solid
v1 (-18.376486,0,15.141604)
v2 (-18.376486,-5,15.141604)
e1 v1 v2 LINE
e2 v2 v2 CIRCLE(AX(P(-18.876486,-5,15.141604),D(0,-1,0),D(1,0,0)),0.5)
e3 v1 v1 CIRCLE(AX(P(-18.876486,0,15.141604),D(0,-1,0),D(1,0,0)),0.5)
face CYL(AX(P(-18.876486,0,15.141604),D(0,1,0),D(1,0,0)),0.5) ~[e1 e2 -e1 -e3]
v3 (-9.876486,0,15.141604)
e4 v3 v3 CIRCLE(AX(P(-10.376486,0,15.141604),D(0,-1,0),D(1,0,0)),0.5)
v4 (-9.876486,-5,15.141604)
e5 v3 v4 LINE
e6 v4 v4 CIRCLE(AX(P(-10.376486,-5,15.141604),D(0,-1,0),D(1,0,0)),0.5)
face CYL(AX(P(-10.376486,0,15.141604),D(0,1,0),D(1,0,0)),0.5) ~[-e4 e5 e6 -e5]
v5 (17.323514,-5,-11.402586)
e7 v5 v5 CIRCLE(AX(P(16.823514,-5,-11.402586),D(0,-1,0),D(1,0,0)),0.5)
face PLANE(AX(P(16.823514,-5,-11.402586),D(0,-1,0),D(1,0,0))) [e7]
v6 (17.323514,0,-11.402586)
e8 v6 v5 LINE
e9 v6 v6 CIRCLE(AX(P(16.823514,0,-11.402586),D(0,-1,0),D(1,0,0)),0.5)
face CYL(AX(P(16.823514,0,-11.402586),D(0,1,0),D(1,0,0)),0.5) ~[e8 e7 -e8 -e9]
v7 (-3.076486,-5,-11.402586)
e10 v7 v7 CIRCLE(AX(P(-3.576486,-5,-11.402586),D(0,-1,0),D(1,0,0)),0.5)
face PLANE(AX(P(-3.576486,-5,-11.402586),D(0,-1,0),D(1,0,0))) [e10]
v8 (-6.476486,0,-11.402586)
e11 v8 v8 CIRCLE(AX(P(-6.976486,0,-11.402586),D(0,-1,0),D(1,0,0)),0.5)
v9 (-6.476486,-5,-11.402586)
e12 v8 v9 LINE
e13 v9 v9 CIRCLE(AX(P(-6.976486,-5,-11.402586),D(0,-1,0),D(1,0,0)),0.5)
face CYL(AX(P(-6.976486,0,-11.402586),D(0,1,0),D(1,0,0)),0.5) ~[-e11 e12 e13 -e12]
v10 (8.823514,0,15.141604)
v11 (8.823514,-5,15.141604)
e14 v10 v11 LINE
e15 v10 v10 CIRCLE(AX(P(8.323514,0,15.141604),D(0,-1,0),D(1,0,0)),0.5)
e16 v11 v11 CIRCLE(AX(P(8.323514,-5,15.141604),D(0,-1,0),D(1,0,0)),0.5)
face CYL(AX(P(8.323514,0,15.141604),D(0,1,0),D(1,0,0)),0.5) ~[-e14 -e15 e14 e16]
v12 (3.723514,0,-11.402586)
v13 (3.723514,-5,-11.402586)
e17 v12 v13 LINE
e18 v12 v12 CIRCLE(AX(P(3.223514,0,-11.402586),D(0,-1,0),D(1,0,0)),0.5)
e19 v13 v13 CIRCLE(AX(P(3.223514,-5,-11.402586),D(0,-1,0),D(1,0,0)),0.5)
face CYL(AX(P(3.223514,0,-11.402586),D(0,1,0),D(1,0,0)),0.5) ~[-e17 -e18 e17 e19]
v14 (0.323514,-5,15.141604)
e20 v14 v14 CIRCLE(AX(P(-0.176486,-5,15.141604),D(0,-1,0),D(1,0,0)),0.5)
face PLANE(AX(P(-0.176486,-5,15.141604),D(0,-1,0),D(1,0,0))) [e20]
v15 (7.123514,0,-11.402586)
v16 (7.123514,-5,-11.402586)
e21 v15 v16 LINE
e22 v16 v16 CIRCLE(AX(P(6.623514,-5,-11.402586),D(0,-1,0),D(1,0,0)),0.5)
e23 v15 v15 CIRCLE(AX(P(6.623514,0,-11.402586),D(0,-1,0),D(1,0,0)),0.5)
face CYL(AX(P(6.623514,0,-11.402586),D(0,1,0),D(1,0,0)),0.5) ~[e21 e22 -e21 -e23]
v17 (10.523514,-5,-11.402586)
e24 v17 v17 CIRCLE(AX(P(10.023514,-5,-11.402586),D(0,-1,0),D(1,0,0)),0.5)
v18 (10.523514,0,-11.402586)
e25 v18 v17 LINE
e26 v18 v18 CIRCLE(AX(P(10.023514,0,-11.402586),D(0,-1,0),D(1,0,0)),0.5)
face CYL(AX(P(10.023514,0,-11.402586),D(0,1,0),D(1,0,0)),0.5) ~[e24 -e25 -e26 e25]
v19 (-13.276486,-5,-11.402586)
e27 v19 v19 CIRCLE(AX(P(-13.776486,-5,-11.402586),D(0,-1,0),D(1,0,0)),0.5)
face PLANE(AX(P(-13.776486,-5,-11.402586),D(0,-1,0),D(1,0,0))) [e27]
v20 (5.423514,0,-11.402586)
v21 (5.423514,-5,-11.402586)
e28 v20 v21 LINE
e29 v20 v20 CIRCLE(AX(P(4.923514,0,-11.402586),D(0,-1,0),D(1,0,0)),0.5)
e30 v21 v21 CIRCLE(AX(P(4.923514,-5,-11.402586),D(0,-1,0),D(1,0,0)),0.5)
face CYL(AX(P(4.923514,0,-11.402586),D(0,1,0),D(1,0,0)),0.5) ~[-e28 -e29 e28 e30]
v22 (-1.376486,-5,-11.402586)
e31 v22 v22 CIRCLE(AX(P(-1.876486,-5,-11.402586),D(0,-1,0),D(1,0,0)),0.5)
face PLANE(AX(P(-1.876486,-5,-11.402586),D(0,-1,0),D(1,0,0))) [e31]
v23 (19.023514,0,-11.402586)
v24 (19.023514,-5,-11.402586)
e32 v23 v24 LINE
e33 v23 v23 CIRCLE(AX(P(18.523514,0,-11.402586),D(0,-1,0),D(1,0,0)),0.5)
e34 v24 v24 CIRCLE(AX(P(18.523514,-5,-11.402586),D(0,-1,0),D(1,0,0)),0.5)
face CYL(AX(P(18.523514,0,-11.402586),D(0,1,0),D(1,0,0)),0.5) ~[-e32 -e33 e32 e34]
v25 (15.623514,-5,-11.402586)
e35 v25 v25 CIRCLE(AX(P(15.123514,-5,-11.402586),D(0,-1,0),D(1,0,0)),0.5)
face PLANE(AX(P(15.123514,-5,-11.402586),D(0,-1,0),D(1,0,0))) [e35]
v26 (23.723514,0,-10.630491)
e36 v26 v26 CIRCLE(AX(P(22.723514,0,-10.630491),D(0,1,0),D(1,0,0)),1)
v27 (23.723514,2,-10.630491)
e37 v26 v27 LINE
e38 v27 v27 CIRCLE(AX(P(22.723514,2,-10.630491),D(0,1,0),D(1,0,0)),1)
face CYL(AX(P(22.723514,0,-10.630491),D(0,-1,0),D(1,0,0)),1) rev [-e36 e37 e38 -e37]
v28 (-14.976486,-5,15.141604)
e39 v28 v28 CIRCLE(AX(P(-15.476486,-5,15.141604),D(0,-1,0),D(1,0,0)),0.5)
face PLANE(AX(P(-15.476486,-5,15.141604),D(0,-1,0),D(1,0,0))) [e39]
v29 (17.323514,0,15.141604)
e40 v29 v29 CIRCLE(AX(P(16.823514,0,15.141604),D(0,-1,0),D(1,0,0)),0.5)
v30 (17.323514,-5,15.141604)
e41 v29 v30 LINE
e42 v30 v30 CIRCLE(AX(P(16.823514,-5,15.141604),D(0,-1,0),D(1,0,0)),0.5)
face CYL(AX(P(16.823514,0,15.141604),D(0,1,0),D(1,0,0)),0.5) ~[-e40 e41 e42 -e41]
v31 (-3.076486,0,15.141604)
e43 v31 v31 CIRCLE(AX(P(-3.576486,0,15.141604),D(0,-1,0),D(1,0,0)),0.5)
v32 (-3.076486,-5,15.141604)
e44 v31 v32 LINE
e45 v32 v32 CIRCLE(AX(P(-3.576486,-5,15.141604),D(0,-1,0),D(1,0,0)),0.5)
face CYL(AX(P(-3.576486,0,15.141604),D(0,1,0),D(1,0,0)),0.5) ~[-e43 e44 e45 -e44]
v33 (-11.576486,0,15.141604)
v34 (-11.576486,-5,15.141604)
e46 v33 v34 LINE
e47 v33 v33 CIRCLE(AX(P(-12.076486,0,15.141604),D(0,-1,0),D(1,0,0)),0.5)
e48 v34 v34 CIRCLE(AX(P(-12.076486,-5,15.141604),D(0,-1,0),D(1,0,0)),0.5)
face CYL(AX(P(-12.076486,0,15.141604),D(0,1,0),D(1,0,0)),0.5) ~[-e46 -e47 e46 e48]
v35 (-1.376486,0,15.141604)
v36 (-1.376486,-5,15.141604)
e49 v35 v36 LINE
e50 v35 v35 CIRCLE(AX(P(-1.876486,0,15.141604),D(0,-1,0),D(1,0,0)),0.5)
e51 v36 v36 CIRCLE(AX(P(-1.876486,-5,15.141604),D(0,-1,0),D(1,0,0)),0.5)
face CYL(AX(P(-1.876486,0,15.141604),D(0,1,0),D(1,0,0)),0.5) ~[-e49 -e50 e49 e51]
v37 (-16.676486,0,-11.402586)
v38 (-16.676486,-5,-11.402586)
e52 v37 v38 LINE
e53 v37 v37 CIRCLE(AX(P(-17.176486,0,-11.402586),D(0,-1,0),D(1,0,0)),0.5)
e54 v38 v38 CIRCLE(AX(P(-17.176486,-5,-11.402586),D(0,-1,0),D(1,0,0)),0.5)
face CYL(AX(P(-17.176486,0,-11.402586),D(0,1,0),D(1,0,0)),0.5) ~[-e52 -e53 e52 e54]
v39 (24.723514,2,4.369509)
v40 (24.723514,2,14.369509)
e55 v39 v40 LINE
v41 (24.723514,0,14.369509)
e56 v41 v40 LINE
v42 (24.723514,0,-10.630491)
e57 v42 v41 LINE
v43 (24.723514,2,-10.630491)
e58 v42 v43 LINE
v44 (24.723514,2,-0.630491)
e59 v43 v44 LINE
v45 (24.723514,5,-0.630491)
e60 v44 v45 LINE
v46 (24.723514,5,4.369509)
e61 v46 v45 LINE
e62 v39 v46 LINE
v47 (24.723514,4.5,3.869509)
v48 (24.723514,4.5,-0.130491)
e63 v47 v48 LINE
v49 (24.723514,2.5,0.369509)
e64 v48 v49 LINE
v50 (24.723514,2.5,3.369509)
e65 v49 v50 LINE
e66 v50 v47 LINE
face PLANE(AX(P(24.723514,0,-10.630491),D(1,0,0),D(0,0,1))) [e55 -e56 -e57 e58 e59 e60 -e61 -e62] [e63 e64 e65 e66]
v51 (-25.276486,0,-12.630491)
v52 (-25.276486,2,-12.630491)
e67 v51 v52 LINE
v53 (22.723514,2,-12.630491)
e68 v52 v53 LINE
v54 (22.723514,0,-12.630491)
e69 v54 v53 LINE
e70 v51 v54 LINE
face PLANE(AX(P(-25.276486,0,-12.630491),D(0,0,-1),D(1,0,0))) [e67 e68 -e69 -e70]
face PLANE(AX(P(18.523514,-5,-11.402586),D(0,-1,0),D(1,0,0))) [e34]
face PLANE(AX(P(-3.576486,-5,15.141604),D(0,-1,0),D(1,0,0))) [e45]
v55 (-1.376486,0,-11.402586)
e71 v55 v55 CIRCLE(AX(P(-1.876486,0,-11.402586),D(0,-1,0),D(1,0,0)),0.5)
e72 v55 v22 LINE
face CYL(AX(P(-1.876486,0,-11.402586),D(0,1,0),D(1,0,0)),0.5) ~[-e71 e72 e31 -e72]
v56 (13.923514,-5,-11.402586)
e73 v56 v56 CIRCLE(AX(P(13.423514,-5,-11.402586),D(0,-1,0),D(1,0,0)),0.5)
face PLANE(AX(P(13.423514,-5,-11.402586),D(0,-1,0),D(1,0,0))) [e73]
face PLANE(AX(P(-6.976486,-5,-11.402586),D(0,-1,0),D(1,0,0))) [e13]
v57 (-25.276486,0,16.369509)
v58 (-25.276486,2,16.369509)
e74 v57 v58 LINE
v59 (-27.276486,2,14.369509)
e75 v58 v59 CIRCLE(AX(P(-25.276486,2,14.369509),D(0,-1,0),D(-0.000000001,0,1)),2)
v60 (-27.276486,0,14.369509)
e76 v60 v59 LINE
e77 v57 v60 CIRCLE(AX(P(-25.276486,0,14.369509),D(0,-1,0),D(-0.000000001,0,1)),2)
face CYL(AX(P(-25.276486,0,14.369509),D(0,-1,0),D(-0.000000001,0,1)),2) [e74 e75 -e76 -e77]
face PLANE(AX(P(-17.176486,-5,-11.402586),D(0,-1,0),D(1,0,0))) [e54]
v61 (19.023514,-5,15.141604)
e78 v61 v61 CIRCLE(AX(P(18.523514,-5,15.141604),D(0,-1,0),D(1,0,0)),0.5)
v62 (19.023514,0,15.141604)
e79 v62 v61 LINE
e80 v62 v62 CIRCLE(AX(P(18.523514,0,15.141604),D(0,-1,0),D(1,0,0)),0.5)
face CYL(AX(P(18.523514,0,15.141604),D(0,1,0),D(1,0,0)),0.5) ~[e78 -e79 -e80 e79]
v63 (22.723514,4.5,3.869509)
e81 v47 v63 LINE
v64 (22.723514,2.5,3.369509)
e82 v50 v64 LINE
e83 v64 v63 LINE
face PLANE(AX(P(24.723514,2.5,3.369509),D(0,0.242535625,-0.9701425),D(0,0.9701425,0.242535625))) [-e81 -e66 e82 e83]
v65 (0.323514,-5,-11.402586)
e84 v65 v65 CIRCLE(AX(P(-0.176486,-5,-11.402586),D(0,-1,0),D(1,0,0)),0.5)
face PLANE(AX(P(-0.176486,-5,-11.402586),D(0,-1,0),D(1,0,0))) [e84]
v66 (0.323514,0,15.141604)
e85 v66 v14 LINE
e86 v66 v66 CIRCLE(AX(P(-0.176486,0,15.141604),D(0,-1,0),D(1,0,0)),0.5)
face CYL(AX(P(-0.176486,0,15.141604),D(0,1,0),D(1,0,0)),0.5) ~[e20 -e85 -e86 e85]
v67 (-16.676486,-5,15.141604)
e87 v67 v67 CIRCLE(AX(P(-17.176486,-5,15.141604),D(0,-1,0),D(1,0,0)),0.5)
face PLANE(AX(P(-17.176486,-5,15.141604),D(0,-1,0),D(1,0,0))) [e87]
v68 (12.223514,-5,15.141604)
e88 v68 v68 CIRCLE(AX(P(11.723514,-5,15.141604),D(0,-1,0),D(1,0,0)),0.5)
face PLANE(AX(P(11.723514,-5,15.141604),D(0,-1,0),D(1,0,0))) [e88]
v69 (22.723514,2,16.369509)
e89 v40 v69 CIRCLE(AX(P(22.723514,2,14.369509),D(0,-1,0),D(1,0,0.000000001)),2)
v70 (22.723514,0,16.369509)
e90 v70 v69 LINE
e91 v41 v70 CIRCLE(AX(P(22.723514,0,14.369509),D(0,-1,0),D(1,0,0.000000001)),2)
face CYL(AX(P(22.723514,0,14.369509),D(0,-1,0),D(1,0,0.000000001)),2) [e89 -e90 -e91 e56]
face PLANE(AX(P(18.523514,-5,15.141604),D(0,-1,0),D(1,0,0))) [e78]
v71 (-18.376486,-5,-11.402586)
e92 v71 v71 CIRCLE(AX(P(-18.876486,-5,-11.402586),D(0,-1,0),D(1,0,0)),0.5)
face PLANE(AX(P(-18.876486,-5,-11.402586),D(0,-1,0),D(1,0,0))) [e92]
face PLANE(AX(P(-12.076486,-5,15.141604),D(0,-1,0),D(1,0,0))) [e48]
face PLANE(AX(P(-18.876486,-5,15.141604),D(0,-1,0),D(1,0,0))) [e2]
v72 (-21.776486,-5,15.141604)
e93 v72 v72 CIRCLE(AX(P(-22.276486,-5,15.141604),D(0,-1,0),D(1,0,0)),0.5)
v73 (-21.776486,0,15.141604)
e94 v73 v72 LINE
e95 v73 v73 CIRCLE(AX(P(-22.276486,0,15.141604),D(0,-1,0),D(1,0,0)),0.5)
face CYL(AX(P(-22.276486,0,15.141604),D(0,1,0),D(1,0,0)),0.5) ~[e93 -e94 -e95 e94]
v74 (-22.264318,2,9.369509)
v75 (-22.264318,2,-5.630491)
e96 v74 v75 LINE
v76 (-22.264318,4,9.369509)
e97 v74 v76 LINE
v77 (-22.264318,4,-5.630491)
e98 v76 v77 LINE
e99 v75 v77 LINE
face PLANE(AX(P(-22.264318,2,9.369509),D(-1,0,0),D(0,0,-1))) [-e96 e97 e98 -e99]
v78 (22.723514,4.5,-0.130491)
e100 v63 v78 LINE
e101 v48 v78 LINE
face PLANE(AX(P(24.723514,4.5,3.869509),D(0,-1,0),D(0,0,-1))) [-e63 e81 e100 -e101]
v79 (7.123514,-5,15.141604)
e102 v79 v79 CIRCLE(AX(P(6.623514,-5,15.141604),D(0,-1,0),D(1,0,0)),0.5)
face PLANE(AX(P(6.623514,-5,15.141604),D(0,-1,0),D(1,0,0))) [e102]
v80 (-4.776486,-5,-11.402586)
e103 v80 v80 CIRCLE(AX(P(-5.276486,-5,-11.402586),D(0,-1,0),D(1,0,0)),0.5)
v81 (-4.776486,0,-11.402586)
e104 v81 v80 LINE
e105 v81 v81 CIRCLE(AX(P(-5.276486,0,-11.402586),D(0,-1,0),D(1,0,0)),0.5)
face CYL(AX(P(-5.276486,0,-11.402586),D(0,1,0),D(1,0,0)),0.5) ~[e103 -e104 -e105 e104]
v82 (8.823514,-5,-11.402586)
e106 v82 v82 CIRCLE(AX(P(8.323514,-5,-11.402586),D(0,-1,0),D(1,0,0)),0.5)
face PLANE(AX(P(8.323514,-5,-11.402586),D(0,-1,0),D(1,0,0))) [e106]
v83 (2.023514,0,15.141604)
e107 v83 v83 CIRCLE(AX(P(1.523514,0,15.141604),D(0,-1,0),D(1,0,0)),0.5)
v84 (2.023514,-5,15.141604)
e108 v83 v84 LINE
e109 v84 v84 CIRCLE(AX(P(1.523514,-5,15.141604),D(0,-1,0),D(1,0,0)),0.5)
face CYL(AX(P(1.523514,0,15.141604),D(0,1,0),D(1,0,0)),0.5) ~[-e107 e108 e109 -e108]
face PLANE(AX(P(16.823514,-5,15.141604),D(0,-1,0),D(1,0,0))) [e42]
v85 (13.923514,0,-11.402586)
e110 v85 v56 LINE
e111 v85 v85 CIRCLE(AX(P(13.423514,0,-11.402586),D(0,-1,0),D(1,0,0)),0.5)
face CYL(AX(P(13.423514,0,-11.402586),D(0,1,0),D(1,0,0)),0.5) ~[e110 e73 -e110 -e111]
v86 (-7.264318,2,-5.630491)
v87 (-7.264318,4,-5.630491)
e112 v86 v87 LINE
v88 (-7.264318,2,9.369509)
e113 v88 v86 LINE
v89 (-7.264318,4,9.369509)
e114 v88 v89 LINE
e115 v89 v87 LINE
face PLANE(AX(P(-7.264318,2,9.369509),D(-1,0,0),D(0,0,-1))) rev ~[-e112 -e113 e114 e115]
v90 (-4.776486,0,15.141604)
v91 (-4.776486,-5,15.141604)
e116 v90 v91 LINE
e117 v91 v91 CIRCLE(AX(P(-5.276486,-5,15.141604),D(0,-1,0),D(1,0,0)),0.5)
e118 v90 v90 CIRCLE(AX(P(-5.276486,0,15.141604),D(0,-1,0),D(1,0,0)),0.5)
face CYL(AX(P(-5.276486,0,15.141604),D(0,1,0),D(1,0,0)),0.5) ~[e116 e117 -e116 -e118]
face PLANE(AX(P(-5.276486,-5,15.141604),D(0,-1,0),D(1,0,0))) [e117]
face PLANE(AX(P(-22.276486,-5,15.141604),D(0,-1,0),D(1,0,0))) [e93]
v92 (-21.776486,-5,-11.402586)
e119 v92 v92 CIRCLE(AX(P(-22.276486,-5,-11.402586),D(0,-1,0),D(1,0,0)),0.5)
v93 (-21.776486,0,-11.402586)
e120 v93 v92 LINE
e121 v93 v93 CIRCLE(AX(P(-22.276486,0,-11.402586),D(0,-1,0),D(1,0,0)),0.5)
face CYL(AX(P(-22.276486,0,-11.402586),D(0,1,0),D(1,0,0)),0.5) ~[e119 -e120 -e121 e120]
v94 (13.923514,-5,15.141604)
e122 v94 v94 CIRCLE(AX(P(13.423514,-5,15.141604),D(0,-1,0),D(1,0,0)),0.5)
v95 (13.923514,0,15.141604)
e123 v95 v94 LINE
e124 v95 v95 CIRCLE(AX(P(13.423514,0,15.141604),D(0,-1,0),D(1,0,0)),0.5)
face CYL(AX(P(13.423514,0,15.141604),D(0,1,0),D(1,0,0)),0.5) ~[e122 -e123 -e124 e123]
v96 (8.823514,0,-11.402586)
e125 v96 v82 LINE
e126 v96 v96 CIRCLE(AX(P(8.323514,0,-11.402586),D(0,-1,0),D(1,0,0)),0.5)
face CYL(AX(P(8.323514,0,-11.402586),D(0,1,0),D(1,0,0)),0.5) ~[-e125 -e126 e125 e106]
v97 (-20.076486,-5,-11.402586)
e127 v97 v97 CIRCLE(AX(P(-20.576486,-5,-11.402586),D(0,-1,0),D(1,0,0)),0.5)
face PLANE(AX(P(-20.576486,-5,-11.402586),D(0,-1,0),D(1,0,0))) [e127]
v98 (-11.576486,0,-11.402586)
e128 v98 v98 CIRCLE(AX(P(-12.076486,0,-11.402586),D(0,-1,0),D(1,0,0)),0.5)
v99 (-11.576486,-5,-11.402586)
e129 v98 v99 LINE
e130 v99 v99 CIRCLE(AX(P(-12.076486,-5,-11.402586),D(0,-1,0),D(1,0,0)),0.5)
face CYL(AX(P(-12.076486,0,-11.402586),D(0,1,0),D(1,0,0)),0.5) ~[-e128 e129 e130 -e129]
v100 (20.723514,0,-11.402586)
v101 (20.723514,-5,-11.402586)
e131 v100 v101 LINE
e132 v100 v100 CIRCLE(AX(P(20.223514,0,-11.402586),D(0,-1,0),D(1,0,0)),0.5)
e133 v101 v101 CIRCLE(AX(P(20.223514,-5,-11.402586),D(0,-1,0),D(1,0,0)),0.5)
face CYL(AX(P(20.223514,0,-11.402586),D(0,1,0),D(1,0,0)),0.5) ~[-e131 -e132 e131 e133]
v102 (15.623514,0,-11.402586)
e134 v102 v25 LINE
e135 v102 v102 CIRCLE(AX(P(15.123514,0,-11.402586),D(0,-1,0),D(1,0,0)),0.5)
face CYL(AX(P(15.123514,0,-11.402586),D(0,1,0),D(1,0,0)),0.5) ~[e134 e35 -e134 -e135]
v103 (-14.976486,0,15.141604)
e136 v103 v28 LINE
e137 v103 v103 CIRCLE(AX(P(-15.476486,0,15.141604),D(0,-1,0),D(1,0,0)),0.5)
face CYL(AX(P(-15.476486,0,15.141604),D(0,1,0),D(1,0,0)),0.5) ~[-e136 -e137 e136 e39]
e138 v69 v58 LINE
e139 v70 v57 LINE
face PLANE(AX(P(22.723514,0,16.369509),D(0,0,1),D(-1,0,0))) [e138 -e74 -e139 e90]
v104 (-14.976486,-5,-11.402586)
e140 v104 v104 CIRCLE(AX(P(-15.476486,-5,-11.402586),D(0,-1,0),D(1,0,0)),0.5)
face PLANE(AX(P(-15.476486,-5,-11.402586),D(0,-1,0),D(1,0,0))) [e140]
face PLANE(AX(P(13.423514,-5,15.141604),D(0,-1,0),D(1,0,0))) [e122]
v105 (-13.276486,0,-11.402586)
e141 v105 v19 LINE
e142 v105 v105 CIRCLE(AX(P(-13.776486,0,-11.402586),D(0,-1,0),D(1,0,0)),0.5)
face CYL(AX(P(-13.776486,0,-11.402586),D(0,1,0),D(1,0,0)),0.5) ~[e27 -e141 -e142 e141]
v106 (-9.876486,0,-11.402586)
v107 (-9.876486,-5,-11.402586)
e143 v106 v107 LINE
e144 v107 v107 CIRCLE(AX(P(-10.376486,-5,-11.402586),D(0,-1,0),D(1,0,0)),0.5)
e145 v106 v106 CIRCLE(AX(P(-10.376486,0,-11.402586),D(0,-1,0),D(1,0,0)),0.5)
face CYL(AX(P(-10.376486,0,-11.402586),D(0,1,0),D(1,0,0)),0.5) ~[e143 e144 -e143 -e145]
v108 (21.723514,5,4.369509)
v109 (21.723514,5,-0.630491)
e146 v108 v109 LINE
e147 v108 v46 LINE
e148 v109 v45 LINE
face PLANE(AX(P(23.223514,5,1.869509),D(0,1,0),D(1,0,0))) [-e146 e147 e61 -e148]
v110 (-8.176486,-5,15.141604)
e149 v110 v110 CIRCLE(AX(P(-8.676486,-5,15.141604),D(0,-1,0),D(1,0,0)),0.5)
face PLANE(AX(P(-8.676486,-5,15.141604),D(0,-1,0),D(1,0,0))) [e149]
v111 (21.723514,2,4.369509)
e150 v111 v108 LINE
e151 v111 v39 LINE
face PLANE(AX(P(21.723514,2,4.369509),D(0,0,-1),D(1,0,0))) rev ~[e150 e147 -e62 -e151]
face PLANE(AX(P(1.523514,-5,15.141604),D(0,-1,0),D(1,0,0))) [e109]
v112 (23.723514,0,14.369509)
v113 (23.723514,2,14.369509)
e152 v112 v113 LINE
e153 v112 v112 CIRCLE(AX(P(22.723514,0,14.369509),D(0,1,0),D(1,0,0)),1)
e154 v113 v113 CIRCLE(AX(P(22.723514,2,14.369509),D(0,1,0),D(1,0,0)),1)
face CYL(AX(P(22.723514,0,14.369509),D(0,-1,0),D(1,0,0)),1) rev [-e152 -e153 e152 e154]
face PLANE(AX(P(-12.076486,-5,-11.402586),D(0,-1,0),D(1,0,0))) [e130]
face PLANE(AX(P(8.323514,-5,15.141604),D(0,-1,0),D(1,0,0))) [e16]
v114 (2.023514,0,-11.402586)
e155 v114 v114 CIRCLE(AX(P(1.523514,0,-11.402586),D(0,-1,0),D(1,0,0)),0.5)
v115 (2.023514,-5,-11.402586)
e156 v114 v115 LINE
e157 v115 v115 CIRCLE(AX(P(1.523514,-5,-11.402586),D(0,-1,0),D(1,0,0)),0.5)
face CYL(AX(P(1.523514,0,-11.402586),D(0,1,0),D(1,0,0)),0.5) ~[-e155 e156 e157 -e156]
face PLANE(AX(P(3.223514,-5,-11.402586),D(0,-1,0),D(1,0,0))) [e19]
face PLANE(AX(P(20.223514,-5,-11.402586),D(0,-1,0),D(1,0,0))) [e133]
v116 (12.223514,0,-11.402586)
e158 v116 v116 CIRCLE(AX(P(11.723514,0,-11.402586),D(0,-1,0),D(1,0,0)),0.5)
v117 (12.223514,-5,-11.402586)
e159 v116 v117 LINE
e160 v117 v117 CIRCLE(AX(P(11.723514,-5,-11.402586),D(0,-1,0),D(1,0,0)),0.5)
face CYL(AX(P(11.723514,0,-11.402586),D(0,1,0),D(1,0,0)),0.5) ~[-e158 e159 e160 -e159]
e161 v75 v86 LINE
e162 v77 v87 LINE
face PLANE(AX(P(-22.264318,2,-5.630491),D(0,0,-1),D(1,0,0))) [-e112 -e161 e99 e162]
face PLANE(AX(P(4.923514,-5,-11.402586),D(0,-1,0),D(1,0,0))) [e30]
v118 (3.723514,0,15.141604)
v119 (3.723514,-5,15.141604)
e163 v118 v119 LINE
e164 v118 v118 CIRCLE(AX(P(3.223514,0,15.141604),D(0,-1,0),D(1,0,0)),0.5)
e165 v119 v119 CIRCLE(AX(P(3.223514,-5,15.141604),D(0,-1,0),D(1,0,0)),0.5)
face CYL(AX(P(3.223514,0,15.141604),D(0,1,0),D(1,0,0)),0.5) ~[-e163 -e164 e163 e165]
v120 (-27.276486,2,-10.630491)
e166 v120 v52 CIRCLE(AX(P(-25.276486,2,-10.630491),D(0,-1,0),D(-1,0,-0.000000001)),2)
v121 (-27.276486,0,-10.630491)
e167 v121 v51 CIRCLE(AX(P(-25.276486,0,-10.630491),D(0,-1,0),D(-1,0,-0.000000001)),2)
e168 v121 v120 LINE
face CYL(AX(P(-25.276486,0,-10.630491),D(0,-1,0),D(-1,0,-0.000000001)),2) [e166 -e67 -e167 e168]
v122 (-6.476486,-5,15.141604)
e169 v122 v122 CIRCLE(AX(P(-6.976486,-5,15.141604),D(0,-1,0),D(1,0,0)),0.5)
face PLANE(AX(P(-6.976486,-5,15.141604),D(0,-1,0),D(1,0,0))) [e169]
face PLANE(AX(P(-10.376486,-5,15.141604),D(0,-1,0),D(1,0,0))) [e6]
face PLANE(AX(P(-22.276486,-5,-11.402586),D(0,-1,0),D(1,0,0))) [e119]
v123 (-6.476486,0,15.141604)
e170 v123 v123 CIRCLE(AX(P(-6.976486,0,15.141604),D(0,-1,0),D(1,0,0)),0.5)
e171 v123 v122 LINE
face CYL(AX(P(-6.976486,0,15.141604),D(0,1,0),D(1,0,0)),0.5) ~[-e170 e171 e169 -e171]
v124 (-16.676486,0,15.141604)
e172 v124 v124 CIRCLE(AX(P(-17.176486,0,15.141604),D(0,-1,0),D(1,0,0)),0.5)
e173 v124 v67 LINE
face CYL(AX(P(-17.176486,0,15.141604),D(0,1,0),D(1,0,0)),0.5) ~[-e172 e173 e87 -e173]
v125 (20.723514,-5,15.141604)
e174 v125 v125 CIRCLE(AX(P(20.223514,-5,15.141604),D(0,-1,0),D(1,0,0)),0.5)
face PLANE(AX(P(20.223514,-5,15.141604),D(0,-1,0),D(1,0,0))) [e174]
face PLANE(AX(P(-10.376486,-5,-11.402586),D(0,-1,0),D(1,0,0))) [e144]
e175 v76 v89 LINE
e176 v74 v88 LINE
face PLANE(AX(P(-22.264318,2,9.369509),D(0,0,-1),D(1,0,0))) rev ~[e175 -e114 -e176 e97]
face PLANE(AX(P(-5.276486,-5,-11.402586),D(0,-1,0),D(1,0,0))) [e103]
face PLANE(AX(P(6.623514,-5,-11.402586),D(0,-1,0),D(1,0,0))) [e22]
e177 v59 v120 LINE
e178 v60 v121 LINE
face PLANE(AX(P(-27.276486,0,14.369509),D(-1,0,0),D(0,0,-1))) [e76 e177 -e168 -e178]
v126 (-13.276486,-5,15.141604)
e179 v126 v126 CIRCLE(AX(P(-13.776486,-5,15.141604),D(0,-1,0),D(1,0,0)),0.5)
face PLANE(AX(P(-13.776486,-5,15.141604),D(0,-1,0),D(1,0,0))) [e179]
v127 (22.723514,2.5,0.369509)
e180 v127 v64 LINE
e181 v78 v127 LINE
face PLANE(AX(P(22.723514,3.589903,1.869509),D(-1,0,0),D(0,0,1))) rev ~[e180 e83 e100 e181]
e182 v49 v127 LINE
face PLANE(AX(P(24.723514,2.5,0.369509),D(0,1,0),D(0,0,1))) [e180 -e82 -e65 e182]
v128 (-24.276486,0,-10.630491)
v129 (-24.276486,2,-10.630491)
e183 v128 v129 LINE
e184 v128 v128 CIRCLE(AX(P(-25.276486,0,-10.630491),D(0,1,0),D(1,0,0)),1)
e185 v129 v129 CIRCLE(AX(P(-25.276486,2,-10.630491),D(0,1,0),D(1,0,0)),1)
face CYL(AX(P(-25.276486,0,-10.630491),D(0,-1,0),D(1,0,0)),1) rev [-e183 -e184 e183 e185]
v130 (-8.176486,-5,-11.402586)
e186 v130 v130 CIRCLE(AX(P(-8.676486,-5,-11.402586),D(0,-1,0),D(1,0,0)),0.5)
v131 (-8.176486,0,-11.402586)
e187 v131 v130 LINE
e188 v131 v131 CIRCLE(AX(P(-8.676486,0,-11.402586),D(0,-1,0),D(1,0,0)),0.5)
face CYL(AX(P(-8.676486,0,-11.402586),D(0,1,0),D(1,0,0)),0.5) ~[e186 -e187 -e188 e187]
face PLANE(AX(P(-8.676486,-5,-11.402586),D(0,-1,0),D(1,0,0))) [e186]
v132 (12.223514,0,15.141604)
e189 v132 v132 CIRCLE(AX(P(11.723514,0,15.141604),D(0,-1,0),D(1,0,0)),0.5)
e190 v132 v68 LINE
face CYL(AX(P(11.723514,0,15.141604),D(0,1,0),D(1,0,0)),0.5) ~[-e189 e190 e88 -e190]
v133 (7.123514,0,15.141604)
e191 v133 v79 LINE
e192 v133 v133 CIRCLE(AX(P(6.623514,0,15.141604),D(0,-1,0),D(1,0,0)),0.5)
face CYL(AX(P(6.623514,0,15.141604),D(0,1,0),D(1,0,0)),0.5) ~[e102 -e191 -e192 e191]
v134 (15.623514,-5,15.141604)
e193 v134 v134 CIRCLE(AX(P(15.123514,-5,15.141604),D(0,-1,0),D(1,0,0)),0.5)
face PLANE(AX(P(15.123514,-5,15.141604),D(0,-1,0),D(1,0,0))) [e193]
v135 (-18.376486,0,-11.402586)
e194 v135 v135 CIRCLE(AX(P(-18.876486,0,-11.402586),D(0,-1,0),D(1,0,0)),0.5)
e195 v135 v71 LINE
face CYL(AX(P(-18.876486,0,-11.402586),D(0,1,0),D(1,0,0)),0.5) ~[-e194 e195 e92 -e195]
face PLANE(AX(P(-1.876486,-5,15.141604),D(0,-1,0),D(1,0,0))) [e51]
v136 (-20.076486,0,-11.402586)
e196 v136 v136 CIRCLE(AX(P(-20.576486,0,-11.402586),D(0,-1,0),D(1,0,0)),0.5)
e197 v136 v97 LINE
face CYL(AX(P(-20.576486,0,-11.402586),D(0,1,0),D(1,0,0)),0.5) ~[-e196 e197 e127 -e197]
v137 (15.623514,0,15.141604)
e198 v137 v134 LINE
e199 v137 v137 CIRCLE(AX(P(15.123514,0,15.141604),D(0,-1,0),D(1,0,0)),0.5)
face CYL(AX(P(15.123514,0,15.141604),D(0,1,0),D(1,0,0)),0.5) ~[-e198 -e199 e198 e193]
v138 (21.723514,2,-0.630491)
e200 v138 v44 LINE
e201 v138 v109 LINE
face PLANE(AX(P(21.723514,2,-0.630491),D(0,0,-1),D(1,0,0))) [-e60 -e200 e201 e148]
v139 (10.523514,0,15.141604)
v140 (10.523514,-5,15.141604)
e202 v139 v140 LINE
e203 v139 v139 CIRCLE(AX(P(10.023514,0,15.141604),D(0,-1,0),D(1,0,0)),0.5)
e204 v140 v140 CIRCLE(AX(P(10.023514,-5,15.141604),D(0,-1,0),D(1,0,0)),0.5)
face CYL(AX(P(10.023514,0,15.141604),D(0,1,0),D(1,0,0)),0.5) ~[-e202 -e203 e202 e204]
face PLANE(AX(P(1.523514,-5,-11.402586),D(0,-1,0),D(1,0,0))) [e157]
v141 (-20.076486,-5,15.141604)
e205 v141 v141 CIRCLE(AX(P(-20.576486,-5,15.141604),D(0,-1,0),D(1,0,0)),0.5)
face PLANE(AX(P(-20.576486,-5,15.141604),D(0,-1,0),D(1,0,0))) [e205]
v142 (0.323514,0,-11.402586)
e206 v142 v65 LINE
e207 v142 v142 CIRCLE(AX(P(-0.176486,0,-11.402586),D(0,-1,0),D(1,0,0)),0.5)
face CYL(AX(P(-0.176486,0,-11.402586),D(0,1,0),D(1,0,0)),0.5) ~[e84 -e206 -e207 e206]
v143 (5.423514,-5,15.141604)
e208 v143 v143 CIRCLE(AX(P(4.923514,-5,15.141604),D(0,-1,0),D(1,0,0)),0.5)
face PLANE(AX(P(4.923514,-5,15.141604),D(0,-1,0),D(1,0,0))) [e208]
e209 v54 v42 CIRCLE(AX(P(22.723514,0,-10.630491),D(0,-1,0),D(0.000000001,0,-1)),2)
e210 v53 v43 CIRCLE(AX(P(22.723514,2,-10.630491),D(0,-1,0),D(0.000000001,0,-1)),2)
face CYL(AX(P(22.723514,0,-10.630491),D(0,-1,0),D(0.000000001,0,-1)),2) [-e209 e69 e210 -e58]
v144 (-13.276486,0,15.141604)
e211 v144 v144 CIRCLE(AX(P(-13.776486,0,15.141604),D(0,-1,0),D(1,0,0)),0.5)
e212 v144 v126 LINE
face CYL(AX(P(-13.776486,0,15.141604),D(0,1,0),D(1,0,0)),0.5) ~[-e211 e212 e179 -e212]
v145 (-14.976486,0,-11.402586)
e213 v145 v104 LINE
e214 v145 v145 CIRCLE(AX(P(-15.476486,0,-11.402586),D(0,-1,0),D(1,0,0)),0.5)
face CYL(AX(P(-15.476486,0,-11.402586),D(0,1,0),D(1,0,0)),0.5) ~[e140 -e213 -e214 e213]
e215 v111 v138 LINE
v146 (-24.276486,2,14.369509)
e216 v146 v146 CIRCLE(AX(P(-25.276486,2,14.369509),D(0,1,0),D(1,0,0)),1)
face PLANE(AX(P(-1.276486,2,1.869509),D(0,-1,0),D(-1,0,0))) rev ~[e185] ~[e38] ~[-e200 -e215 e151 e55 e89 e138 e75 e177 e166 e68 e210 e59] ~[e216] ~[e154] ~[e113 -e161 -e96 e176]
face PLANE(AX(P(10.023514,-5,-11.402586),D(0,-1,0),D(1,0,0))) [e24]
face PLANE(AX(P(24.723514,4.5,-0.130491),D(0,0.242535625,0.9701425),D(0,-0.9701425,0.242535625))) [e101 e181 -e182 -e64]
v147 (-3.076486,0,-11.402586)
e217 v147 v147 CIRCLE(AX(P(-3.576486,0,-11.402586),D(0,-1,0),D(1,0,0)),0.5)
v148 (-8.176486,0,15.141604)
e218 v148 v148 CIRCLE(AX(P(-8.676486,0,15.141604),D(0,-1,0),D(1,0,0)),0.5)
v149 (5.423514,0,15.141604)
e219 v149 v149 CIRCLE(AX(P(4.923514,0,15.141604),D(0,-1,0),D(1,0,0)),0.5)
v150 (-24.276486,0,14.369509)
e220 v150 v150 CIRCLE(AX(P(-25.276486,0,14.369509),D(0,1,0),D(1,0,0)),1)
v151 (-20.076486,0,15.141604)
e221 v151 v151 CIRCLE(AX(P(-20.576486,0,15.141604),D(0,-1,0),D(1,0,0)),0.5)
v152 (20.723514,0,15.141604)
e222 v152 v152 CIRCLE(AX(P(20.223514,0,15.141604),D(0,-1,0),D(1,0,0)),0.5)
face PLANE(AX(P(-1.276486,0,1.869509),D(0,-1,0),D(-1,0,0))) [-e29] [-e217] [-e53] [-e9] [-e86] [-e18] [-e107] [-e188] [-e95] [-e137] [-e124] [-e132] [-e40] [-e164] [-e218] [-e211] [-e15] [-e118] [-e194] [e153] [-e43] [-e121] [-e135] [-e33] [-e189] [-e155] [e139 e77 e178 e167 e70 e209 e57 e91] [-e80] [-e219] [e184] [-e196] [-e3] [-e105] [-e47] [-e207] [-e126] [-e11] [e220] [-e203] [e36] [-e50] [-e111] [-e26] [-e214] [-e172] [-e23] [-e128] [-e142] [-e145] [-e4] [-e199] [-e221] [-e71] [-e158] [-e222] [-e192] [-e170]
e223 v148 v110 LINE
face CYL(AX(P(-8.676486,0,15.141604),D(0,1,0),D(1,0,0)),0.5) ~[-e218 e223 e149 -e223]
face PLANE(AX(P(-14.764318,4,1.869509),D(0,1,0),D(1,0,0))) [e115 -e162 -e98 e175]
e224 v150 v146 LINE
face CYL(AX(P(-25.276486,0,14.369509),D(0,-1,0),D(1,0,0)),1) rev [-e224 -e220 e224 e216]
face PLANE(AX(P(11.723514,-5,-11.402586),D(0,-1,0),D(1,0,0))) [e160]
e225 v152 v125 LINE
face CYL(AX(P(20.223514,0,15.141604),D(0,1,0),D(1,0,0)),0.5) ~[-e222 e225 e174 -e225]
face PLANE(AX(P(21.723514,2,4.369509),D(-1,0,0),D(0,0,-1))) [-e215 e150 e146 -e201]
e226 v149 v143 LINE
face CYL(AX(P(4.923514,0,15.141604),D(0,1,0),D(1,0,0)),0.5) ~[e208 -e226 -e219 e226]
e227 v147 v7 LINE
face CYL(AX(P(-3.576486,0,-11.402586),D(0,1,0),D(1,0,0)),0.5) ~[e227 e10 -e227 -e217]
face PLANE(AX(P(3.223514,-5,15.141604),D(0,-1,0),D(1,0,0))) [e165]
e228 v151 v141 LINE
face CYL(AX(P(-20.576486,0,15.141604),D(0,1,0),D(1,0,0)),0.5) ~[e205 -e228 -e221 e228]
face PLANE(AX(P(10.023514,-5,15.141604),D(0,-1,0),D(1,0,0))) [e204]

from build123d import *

# Parameters (mm, degrees)
ESBO_O1_R                = 1
RESSALTO_EXTRUS_O1_DEPTH = 2
ESBO_O2_R                = 0.5
RESSALTO_EXTRUS_O2_DEPTH = 5
ESBO_O3_W                = 3
ESBO_O3_H                = 5
RESSALTO_EXTRUS_O3_DEPTH = 3
CORTE_EXTRUS_O1_DEPTH    = 2
ESBO_O5_W                = 15
ESBO_O5_H                = 15
RESSALTO_EXTRUS_O4_DEPTH = 2


with BuildPart() as part:
    # Esboço1 → Ressalto-extrusão1 (new body)
    with BuildSketch(Plane(origin=(0, 0, 0), x_dir=(1, 0, 0), z_dir=(0, 1, 0))):
        with BuildLine():
            Line((-25.276485788, 12.630490956), (22.723514212, 12.630490956))
            ThreePointArc((22.723514212, 12.630490956), (24.137727774, 12.044704518), (24.723514212, 10.630490956))
            Line((24.723514212, 10.630490956), (24.723514212, -14.369509044))
            ThreePointArc((24.723514212, -14.369509044), (24.137727774, -15.783722606), (22.723514212, -16.369509044))
            Line((22.723514212, -16.369509044), (-25.276485788, -16.369509044))
            ThreePointArc((-25.276485788, -16.369509044), (-26.69069935, -15.783722606), (-27.276485788, -14.369509044))
            Line((-27.276485788, -14.369509044), (-27.276485788, 10.630490956))
            ThreePointArc((-27.276485788, 10.630490956), (-26.69069935, 12.044704518), (-25.276485788, 12.630490956))
        make_face()
        with Locations((-25.276485788, 10.630490956)):
            Circle(ESBO_O1_R, mode=Mode.SUBTRACT)
        with Locations((-25.276485788, -14.369509044)):
            Circle(ESBO_O1_R, mode=Mode.SUBTRACT)
        with Locations((22.723514212, 10.630490956)):
            Circle(ESBO_O1_R, mode=Mode.SUBTRACT)
        with Locations((22.723514212, -14.369509044)):
            Circle(ESBO_O1_R, mode=Mode.SUBTRACT)
    extrude(amount=RESSALTO_EXTRUS_O1_DEPTH)

    # Esboço2 → Ressalto-extrusão2 (add)
    with BuildSketch(Plane.XZ):
        with Locations((-22.276485788, 15.14160434)):
            Circle(ESBO_O2_R)
        with Locations((-20.576485788, 15.14160434)):
            Circle(ESBO_O2_R)
        with Locations((-18.876485788, 15.14160434)):
            Circle(ESBO_O2_R)
        with Locations((-17.176485788, 15.14160434)):
            Circle(ESBO_O2_R)
        with Locations((-15.476485788, 15.14160434)):
            Circle(ESBO_O2_R)
        with Locations((-13.776485788, 15.14160434)):
            Circle(ESBO_O2_R)
        with Locations((-12.076485788, 15.14160434)):
            Circle(ESBO_O2_R)
        with Locations((-10.376485788, 15.14160434)):
            Circle(ESBO_O2_R)
        with Locations((-8.676485788, 15.14160434)):
            Circle(ESBO_O2_R)
        with Locations((-6.976485788, 15.14160434)):
            Circle(ESBO_O2_R)
        with Locations((-5.276485788, 15.14160434)):
            Circle(ESBO_O2_R)
        with Locations((-3.576485788, 15.14160434)):
            Circle(ESBO_O2_R)
        with Locations((-1.876485788, 15.14160434)):
            Circle(ESBO_O2_R)
        with Locations((-0.176485788, 15.14160434)):
            Circle(ESBO_O2_R)
        with Locations((1.523514212, 15.14160434)):
            Circle(ESBO_O2_R)
        with Locations((3.223514212, 15.14160434)):
            Circle(ESBO_O2_R)
        with Locations((4.923514212, 15.14160434)):
            Circle(ESBO_O2_R)
        with Locations((6.623514212, 15.14160434)):
            Circle(ESBO_O2_R)
        with Locations((8.323514212, 15.14160434)):
            Circle(ESBO_O2_R)
        with Locations((10.023514212, 15.14160434)):
            Circle(ESBO_O2_R)
        with Locations((11.723514212, 15.14160434)):
            Circle(ESBO_O2_R)
        with Locations((13.423514212, 15.14160434)):
            Circle(ESBO_O2_R)
        with Locations((15.123514212, 15.14160434)):
            Circle(ESBO_O2_R)
        with Locations((16.823514212, 15.14160434)):
            Circle(ESBO_O2_R)
        with Locations((18.523514212, 15.14160434)):
            Circle(ESBO_O2_R)
        with Locations((20.223514212, 15.14160434)):
            Circle(ESBO_O2_R)
        with Locations((-22.276485788, -11.402586252)):
            Circle(ESBO_O2_R)
        with Locations((-20.576485788, -11.402586252)):
            Circle(ESBO_O2_R)
        with Locations((-18.876485788, -11.402586252)):
            Circle(ESBO_O2_R)
        with Locations((-17.176485788, -11.402586252)):
            Circle(ESBO_O2_R)
        with Locations((-15.476485788, -11.402586252)):
            Circle(ESBO_O2_R)
        with Locations((-13.776485788, -11.402586252)):
            Circle(ESBO_O2_R)
        with Locations((-12.076485788, -11.402586252)):
            Circle(ESBO_O2_R)
        with Locations((-10.376485788, -11.402586252)):
            Circle(ESBO_O2_R)
        with Locations((-8.676485788, -11.402586252)):
            Circle(ESBO_O2_R)
        with Locations((-6.976485788, -11.402586252)):
            Circle(ESBO_O2_R)
        with Locations((-5.276485788, -11.402586252)):
            Circle(ESBO_O2_R)
        with Locations((-3.576485788, -11.402586252)):
            Circle(ESBO_O2_R)
        with Locations((-1.876485788, -11.402586252)):
            Circle(ESBO_O2_R)
        with Locations((-0.176485788, -11.402586252)):
            Circle(ESBO_O2_R)
        with Locations((1.523514212, -11.402586252)):
            Circle(ESBO_O2_R)
        with Locations((3.223514212, -11.402586252)):
            Circle(ESBO_O2_R)
        with Locations((4.923514212, -11.402586252)):
            Circle(ESBO_O2_R)
        with Locations((6.623514212, -11.402586252)):
            Circle(ESBO_O2_R)
        with Locations((8.323514212, -11.402586252)):
            Circle(ESBO_O2_R)
        with Locations((10.023514212, -11.402586252)):
            Circle(ESBO_O2_R)
        with Locations((11.723514212, -11.402586252)):
            Circle(ESBO_O2_R)
        with Locations((13.423514212, -11.402586252)):
            Circle(ESBO_O2_R)
        with Locations((15.123514212, -11.402586252)):
            Circle(ESBO_O2_R)
        with Locations((16.823514212, -11.402586252)):
            Circle(ESBO_O2_R)
        with Locations((18.523514212, -11.402586252)):
            Circle(ESBO_O2_R)
        with Locations((20.223514212, -11.402586252)):
            Circle(ESBO_O2_R)
    extrude(amount=RESSALTO_EXTRUS_O2_DEPTH)

    # Esboço3 → Ressalto-extrusão3 (add)
    with BuildSketch(Plane(origin=(0, 2, 0), x_dir=(1, 0, 0), z_dir=(0, 1, 0))):
        with Locations((23.223514212, -1.869509044)):
            Rectangle(ESBO_O3_W, ESBO_O3_H)
    extrude(amount=RESSALTO_EXTRUS_O3_DEPTH)

    # Esboço4 → Corte-extrusão1 (cut)
    with BuildSketch(Plane(origin=(24.723514212, 0, 0), x_dir=(0, 0, -1), z_dir=(1, 0, 0))):
        Polygon((0.130490956, 4.5), (-0.369509044, 2.5), (-3.369509044, 2.5), (-3.869509044, 4.5), align=None)
    extrude(amount=-CORTE_EXTRUS_O1_DEPTH, mode=Mode.SUBTRACT)

    # Esboço5 → Ressalto-extrusão4 (add)
    with BuildSketch(Plane(origin=(0, 2, 0), x_dir=(1, 0, 0), z_dir=(0, 1, 0))):
        with Locations((-14.764317849, -1.869509044)):
            Rectangle(ESBO_O5_W, ESBO_O5_H)
    extrude(amount=RESSALTO_EXTRUS_O4_DEPTH)


solid = part.part
